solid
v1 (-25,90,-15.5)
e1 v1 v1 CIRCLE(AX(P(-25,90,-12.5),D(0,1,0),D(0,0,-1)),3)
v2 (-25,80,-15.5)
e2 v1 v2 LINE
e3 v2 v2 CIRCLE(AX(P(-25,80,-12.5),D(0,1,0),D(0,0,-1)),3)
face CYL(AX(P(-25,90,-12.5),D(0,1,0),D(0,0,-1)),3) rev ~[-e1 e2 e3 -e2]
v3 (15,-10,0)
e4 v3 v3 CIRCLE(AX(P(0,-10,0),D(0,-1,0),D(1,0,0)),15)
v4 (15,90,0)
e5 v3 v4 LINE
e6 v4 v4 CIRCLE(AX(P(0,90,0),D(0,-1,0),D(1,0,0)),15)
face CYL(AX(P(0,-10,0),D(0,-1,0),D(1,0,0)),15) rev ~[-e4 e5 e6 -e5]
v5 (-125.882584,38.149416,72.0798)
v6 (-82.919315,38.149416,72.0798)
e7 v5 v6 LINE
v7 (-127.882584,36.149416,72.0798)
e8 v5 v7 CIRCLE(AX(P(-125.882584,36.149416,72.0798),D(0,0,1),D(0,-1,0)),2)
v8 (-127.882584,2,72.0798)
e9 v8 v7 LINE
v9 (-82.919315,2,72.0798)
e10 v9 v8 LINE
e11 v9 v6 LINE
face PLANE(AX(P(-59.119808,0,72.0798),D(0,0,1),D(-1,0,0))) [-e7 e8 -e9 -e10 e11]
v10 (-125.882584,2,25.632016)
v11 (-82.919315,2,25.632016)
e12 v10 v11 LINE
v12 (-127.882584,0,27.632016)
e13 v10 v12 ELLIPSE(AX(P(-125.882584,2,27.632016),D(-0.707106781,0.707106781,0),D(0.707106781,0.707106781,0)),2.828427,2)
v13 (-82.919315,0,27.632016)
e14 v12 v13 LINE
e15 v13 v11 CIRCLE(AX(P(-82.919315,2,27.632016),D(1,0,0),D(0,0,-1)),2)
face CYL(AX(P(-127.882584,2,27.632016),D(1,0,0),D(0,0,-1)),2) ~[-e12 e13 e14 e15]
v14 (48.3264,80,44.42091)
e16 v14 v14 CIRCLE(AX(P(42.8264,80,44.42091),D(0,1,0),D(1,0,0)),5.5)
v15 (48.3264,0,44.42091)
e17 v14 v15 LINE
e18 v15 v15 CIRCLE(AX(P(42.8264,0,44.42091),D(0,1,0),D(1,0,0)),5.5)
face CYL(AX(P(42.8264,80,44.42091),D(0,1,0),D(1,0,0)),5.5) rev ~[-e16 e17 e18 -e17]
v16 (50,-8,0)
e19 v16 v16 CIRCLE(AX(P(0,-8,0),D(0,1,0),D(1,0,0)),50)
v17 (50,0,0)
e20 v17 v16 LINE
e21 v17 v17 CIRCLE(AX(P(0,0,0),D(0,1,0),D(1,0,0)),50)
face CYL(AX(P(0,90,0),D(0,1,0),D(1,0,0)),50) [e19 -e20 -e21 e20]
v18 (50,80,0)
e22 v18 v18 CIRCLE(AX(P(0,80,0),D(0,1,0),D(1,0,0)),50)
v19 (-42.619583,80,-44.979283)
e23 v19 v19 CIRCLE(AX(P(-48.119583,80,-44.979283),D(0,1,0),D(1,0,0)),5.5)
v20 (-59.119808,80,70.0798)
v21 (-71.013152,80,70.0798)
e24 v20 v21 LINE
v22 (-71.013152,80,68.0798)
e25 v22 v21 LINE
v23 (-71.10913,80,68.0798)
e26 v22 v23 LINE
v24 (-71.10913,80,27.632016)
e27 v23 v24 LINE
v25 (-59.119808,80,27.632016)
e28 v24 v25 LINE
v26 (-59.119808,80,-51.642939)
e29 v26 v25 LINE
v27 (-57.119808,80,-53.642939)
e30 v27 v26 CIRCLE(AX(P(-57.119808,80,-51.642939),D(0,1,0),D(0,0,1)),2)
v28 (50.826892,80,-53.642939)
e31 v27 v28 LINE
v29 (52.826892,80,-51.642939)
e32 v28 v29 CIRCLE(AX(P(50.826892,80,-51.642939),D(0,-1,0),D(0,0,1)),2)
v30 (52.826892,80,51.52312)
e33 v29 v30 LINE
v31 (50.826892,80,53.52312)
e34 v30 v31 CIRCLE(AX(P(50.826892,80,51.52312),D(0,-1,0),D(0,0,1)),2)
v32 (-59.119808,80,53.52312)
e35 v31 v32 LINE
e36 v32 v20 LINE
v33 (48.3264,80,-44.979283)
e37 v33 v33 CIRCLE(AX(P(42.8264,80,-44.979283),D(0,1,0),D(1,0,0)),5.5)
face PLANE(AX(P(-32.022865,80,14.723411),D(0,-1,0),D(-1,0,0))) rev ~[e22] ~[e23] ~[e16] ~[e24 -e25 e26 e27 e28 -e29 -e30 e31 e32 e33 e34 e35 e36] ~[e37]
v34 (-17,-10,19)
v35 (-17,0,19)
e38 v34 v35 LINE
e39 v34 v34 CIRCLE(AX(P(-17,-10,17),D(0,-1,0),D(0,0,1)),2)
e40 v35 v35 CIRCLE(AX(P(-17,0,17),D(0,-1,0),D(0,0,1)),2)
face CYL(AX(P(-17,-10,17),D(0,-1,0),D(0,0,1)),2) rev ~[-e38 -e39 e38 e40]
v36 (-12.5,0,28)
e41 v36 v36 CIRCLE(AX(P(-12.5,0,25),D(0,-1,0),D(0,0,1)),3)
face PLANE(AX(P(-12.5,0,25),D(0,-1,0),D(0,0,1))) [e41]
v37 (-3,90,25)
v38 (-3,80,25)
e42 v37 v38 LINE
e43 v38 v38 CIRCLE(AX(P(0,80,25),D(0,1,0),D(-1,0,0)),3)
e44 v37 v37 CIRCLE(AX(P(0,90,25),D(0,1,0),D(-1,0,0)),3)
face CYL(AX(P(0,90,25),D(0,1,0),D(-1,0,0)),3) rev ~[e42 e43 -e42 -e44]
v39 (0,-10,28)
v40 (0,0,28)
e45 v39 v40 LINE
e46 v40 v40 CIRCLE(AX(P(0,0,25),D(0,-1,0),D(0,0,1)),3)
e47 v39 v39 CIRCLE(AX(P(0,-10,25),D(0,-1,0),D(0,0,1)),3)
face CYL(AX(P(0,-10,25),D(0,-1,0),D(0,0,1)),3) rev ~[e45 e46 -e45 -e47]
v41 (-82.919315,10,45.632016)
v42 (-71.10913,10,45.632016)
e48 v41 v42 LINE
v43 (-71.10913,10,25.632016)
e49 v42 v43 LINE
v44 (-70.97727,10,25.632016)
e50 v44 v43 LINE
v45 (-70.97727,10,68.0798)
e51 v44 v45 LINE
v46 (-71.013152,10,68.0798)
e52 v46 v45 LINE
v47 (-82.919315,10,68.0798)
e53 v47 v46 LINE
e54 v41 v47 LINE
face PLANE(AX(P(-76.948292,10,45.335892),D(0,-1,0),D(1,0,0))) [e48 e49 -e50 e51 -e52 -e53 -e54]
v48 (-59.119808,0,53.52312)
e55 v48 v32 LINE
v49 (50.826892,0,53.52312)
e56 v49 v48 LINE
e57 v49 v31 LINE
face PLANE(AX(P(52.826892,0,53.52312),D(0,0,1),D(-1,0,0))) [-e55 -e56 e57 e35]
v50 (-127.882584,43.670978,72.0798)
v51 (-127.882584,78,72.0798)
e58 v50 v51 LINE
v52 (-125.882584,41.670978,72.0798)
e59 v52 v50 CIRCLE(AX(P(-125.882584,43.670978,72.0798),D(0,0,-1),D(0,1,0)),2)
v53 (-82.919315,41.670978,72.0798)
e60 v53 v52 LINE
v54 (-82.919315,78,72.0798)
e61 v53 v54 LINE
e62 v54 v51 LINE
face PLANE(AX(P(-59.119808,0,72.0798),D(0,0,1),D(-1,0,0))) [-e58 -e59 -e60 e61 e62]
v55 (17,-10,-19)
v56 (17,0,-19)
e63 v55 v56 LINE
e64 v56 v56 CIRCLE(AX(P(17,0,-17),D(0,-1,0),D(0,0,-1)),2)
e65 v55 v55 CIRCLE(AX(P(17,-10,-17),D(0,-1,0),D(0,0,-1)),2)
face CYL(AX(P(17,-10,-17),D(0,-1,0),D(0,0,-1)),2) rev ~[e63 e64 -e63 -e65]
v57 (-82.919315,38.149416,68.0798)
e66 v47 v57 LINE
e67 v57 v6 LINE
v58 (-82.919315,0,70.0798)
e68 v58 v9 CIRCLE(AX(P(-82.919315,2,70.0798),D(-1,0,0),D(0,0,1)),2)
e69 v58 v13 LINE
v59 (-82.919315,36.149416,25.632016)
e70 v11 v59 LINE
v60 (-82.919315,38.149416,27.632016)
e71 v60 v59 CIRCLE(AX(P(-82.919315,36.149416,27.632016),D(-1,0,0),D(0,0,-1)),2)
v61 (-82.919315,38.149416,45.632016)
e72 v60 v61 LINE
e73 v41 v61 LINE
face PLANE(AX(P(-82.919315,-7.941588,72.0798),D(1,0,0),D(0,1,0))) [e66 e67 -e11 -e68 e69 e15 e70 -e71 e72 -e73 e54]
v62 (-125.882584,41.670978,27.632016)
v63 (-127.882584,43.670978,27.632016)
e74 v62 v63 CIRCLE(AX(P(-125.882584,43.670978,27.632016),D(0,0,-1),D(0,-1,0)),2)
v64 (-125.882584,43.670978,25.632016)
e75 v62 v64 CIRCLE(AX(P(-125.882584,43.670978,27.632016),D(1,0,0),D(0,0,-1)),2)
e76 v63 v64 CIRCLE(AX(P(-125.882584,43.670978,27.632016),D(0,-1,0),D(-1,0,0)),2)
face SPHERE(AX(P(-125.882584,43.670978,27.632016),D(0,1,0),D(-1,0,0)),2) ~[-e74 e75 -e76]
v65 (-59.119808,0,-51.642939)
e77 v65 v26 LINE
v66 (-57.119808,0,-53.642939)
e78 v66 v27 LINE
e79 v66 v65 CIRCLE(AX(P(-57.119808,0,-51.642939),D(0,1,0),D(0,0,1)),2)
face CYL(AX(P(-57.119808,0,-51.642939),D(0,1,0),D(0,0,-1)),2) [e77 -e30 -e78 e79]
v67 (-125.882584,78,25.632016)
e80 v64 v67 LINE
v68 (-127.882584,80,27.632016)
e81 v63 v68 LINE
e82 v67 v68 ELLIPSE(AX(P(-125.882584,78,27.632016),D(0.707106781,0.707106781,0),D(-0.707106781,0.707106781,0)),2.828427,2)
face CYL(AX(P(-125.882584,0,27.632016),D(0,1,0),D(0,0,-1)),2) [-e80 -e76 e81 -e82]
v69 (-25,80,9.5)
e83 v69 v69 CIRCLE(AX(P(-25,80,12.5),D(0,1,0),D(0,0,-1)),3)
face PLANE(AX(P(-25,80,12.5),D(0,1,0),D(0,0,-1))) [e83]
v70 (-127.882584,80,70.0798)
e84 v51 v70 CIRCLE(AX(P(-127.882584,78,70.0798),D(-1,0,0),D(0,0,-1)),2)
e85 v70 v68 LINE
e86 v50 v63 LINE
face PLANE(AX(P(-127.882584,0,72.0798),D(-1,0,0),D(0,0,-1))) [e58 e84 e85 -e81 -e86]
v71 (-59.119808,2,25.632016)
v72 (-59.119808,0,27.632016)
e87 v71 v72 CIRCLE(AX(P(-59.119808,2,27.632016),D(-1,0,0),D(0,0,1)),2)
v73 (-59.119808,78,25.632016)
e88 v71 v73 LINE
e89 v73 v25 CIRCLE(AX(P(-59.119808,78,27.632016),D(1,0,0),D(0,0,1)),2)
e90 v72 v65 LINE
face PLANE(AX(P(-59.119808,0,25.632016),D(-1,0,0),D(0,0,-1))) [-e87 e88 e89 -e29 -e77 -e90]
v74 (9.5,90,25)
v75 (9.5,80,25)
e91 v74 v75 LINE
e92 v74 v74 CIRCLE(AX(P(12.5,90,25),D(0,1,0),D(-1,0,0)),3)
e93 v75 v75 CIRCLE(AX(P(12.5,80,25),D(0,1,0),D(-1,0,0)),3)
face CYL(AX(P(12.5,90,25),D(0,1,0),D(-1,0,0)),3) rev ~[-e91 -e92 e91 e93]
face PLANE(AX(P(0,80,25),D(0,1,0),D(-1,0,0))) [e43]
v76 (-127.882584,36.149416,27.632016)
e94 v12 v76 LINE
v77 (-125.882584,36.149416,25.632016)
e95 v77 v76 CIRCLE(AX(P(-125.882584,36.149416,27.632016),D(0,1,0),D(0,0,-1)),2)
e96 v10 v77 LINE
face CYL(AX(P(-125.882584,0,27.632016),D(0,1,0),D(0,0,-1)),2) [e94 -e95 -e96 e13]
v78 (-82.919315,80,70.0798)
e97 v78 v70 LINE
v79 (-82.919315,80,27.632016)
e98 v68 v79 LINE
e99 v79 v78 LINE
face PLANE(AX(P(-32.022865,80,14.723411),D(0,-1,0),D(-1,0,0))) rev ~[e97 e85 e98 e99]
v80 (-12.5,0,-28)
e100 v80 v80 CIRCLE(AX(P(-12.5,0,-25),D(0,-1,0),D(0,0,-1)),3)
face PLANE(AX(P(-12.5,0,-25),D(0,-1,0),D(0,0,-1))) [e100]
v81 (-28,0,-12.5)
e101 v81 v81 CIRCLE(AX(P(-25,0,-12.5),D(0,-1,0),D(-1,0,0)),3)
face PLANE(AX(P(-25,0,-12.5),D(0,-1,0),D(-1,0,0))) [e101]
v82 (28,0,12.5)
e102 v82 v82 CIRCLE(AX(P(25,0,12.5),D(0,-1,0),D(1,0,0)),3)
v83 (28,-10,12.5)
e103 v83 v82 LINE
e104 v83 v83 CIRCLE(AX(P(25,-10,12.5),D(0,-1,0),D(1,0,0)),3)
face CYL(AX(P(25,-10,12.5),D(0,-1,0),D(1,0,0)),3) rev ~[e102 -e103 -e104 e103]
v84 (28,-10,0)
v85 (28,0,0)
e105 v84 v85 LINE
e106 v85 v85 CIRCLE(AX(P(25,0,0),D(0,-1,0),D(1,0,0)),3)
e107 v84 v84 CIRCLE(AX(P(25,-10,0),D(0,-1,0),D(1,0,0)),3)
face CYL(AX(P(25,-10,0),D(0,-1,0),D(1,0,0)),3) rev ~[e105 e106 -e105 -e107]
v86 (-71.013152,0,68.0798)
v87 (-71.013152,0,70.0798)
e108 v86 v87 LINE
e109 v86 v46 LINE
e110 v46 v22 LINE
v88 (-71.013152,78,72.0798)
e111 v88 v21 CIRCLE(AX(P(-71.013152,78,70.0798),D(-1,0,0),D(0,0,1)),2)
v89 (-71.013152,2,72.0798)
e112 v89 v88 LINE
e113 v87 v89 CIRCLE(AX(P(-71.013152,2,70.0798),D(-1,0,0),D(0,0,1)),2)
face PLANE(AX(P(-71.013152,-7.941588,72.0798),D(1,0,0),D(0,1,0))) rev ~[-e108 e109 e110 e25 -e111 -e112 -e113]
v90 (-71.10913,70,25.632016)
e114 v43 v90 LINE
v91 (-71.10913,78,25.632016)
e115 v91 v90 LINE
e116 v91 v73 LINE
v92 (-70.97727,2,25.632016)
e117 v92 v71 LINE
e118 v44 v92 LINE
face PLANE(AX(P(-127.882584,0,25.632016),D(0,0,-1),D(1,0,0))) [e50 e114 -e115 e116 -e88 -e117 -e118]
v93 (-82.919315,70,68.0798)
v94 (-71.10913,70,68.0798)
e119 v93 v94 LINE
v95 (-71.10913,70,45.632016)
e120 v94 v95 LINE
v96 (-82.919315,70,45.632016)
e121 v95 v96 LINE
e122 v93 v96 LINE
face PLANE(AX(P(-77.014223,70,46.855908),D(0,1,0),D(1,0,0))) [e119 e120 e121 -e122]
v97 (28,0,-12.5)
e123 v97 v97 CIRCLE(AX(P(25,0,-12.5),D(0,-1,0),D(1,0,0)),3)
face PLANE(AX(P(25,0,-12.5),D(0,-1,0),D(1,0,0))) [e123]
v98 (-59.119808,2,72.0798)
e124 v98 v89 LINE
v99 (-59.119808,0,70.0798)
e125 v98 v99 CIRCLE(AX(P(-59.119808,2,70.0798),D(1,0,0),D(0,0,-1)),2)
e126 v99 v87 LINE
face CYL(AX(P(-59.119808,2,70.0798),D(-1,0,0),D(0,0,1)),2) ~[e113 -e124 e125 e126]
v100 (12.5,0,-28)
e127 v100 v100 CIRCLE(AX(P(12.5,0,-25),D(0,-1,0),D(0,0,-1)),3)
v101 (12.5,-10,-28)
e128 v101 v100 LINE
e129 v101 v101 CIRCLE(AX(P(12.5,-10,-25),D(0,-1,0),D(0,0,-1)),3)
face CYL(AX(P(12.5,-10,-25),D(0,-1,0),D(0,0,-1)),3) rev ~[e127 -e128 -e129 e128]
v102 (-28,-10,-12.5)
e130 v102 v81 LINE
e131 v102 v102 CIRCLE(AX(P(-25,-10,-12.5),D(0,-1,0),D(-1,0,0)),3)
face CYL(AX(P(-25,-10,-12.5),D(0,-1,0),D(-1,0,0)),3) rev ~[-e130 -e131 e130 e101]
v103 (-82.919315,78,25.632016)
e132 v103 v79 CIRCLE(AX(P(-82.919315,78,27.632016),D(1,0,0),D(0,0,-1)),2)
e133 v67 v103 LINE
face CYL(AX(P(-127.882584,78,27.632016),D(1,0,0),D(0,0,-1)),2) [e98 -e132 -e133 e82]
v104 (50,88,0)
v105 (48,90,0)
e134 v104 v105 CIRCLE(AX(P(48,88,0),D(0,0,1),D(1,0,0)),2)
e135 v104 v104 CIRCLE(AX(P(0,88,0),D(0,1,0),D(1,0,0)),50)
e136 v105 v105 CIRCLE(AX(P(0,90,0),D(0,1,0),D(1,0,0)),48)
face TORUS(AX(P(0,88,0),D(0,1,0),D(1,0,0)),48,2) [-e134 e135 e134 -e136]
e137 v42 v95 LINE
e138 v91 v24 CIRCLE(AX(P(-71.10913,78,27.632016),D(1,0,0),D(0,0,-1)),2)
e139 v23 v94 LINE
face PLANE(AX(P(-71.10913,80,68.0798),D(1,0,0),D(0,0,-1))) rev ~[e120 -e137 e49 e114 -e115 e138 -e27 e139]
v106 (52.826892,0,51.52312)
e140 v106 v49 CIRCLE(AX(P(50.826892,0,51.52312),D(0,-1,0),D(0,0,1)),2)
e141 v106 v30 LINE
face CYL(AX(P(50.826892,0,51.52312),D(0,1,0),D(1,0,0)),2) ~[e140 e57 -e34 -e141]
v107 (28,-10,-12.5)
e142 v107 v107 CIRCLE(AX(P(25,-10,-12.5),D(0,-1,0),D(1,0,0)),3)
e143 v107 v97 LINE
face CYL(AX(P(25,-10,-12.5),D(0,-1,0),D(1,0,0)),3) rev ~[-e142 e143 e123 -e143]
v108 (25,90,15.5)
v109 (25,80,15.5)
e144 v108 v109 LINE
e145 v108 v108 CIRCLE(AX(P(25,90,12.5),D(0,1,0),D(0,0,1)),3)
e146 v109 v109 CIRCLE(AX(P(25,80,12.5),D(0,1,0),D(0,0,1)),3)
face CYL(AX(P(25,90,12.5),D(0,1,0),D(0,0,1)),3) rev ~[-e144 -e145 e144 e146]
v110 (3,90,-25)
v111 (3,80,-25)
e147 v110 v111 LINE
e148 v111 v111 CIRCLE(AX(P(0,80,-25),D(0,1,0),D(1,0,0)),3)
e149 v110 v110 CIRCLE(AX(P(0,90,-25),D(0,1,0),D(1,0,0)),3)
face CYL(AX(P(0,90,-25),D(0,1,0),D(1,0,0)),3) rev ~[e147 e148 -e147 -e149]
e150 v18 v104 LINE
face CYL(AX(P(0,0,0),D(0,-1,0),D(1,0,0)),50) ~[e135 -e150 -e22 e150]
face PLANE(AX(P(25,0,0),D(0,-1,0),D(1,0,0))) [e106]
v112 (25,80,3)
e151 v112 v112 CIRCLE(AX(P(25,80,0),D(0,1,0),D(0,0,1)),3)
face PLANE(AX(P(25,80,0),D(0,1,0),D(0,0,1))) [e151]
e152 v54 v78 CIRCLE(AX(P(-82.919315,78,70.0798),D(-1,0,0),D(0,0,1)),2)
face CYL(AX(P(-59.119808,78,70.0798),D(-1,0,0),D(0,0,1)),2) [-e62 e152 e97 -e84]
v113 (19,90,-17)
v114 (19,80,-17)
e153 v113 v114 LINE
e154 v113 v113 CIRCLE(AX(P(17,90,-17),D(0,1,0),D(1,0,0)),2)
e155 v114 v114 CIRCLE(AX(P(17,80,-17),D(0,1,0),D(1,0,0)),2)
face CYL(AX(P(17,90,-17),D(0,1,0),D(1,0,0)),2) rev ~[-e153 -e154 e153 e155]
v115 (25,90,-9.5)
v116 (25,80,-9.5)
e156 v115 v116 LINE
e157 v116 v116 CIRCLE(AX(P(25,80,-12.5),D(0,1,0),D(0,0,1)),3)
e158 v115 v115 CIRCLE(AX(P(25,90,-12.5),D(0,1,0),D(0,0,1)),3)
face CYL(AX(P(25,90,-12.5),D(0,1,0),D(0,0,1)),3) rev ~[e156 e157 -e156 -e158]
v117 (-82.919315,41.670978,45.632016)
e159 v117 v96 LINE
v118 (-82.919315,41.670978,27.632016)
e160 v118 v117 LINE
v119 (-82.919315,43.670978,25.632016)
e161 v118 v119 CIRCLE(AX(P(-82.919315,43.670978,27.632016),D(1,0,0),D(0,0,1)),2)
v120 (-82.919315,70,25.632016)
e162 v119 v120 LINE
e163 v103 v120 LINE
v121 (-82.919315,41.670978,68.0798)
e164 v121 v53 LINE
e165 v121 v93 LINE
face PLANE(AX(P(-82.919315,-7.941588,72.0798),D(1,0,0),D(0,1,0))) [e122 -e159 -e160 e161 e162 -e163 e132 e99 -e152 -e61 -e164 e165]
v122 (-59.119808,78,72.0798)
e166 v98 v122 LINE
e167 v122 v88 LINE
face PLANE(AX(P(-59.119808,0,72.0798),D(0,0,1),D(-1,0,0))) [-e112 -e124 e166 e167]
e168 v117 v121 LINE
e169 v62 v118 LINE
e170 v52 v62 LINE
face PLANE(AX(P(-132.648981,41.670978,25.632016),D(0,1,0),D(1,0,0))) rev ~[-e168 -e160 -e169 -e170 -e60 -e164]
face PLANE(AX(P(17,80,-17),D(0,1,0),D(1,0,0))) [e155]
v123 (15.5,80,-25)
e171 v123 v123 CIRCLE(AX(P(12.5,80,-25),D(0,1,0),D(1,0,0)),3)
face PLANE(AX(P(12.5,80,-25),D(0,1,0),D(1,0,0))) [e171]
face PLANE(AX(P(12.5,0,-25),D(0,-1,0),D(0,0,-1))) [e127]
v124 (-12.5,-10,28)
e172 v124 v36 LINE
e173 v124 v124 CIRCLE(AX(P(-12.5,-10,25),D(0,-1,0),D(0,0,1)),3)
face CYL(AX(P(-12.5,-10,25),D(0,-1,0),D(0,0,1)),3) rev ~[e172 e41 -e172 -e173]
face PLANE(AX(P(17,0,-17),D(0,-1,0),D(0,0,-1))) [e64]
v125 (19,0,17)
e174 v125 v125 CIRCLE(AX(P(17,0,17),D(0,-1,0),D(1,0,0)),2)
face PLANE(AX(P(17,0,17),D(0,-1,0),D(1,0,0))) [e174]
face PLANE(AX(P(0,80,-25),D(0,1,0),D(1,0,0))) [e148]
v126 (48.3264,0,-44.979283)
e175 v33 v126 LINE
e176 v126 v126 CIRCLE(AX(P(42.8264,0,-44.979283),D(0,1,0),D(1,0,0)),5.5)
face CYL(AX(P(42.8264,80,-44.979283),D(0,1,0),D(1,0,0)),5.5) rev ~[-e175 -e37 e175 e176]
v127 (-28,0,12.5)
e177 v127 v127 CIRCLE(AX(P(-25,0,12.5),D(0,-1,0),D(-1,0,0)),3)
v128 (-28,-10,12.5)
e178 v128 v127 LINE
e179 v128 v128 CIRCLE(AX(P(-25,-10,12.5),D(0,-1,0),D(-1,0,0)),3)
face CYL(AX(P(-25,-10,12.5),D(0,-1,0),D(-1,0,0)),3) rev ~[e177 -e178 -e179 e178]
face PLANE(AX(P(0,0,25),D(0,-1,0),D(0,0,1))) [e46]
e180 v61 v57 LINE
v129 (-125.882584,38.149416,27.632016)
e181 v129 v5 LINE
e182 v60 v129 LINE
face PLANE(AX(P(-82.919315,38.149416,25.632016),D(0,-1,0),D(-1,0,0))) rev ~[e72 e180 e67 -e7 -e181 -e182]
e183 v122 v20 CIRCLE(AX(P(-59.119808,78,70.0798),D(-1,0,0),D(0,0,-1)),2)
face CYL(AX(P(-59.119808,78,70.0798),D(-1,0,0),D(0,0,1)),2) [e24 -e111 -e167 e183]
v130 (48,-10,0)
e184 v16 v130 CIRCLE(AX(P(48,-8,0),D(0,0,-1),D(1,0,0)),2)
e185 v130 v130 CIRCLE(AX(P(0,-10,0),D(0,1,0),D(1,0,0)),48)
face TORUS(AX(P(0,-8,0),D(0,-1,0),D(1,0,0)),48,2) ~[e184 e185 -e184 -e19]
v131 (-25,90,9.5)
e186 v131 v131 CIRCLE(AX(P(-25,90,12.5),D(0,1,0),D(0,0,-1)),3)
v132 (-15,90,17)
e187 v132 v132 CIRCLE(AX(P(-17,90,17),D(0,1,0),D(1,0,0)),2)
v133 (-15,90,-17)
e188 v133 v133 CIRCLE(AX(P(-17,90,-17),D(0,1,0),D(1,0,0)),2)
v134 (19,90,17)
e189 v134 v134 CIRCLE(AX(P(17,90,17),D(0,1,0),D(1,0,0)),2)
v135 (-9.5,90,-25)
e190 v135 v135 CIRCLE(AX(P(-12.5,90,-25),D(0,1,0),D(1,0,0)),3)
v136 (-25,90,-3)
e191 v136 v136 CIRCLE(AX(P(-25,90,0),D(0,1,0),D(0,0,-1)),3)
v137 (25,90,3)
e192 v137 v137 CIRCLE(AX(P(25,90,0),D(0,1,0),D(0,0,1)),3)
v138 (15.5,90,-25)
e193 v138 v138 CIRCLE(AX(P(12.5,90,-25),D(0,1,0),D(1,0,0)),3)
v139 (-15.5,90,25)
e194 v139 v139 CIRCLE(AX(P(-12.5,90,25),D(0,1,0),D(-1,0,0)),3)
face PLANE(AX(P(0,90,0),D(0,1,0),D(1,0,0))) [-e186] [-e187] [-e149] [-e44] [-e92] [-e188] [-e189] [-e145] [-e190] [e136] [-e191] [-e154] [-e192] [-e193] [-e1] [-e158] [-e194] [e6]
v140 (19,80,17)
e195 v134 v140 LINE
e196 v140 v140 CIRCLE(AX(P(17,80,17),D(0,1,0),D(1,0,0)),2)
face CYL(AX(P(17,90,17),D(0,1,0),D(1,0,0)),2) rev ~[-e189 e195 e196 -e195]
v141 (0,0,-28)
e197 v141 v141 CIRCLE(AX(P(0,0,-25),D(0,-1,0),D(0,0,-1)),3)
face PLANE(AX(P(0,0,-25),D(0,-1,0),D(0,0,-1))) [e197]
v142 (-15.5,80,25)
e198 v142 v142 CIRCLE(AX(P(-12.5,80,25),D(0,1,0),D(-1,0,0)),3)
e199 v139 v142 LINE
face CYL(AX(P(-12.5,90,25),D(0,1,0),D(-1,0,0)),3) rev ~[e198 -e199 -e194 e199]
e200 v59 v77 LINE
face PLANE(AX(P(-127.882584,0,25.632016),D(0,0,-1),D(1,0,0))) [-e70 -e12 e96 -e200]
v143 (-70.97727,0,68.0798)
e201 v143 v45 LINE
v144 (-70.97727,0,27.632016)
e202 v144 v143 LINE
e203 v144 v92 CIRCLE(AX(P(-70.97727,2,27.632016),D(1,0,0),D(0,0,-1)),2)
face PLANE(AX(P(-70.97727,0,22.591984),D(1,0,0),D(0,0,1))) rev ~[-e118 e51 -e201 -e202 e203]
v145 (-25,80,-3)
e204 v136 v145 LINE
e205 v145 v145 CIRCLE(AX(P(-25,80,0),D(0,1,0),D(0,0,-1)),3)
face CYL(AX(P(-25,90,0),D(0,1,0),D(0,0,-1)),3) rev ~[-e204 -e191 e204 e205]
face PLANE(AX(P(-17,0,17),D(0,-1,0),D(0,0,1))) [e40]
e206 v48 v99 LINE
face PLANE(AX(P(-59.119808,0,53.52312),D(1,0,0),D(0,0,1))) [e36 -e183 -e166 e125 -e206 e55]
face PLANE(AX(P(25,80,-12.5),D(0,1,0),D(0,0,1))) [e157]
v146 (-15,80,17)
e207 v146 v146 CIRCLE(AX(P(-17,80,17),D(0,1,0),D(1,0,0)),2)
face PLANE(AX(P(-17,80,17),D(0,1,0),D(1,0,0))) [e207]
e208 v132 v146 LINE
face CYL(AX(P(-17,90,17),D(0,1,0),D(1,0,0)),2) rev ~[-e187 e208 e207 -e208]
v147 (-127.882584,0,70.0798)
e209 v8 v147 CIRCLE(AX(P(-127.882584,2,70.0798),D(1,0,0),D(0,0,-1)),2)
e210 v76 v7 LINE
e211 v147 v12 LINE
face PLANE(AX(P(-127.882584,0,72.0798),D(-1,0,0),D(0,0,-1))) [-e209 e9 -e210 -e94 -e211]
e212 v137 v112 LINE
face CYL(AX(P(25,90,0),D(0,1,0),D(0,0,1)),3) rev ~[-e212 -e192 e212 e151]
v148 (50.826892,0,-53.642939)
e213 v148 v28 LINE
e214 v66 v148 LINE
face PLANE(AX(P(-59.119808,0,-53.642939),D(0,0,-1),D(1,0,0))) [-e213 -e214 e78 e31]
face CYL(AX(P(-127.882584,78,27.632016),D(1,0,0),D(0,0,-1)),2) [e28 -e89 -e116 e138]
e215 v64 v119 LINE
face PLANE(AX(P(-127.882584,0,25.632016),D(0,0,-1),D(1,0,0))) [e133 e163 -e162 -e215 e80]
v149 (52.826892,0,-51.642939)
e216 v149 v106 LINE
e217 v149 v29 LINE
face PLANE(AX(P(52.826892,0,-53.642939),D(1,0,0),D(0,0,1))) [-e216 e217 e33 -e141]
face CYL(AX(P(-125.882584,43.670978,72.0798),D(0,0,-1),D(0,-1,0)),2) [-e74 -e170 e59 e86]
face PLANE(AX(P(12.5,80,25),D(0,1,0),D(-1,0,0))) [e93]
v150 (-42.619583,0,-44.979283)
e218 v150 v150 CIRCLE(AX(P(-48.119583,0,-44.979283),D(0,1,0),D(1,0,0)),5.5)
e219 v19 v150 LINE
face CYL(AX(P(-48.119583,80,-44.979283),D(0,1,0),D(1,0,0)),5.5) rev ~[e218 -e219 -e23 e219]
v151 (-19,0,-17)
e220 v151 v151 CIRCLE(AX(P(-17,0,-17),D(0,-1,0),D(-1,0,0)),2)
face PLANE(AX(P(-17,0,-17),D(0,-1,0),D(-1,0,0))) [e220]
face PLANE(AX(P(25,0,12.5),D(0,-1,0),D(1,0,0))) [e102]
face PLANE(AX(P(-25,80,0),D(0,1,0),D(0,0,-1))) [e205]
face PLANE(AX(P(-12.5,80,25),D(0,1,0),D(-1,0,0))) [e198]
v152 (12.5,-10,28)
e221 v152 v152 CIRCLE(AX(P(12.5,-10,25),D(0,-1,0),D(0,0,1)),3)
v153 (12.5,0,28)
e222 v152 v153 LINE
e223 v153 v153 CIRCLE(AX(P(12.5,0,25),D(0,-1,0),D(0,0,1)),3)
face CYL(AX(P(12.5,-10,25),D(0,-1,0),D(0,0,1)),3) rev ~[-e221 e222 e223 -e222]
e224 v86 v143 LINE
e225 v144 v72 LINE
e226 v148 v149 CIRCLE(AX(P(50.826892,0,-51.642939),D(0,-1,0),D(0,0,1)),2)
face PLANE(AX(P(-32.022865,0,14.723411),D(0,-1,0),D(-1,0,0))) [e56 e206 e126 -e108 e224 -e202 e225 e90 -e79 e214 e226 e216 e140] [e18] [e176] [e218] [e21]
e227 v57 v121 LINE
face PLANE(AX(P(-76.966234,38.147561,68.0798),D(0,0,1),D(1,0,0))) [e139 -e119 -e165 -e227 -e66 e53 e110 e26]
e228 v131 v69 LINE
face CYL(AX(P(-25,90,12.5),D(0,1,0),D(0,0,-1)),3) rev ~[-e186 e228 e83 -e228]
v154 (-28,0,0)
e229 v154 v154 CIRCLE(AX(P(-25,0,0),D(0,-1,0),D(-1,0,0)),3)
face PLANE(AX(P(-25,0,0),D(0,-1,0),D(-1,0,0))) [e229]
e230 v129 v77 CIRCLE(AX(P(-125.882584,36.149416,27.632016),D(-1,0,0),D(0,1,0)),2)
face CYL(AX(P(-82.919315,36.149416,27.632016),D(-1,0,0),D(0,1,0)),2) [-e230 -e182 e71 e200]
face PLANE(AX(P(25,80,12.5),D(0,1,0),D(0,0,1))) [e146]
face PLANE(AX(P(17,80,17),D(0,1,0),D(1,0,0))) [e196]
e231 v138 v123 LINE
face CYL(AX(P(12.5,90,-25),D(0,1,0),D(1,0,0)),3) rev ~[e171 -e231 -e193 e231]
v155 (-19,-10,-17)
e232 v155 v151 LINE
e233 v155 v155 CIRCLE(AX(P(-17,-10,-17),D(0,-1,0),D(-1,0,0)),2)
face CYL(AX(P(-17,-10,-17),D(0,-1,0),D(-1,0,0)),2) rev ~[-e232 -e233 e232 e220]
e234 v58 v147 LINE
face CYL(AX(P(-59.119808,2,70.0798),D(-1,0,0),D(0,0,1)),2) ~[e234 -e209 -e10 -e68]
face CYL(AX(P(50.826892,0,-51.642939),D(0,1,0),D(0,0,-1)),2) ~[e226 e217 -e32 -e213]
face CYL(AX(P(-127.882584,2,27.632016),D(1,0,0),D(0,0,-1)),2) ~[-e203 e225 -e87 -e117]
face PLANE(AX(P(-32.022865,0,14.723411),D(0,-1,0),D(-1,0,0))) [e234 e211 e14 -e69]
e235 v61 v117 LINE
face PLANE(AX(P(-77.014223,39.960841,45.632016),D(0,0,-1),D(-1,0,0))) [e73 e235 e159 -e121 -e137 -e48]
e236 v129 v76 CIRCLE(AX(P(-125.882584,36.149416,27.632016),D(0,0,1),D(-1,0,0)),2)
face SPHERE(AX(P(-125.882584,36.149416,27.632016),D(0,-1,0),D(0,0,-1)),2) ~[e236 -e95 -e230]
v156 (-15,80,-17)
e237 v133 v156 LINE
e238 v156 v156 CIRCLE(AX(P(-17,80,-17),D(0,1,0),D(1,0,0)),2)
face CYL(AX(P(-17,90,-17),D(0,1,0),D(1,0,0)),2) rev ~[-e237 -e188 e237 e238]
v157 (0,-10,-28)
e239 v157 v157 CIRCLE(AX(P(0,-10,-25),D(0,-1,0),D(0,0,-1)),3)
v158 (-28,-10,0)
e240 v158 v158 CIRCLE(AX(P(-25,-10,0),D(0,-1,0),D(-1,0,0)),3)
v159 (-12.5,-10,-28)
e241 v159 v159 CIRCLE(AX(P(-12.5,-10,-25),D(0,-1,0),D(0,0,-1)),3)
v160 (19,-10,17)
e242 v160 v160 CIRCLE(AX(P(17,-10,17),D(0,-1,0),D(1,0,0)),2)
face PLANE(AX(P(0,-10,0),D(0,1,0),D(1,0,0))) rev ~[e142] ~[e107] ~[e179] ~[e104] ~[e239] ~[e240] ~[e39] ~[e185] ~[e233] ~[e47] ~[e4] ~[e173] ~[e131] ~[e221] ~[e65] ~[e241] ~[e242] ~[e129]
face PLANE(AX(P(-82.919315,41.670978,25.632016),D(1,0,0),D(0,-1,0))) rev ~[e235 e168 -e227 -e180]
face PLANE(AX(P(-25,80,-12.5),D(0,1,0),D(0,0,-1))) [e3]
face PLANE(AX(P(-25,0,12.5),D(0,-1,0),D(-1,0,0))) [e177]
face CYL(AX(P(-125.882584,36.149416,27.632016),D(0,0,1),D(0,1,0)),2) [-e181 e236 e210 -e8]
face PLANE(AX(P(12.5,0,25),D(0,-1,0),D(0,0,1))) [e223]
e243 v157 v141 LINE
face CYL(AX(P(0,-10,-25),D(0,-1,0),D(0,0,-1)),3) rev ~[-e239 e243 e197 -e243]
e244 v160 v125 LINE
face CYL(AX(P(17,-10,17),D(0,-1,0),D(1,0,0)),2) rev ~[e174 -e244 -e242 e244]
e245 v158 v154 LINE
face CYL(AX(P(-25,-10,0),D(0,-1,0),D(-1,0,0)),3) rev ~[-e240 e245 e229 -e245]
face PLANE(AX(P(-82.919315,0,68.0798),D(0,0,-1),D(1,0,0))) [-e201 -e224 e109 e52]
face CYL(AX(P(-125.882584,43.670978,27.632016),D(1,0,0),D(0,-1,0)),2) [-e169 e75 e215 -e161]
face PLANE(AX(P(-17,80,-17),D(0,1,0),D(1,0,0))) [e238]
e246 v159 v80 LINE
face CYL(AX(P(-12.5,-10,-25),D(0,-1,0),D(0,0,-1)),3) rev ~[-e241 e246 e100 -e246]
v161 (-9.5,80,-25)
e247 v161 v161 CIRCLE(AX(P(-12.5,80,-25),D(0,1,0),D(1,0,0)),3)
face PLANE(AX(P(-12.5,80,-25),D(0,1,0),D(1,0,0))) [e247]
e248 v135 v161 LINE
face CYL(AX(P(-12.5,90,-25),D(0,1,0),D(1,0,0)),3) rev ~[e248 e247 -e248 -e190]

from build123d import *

# Parameters (mm, degrees)
SKETCH_1_R               = 50
EXTRUDE_1_DEPTH          = 80
FILLET_1_R               = 2
SKETCH_2_R               = 5.5
CUT_EXTRUDE_1_DEPTH      = 80
SKETCH_3_W               = 11.906162192
SKETCH_3_H               = 92.178298694
CUT_EXTRUDE_2_DEPTH      = 4
SKETCH_4_W               = 11.810184272
SKETCH_4_H               = 42.447784179
CUT_EXTRUDE_3_DEPTH      = 10
SKETCH_5_W               = 11.942044514
SKETCH_5_H               = 45.487816108
CUT_EXTRUDE_4_DEPTH      = 10
SKETCH_6_W               = 11.810184272
SKETCH_6_H               = 60.078318052
CUT_EXTRUDE_5_DEPTH      = 20
CUT_EXTRUDE_7_DEPTH      = 50
FILLET_2_R               = 2
SKETCH_8_R               = 50
EXTRUDE_2_DEPTH          = 90
SKETCH_9_R               = 50
EXTRUDE_3_DEPTH          = 100
FILLET_3_R               = 2
SKETCH_10_R              = 15
CUT_EXTRUDE_8_DEPTH      = 100
SKETCH_11_R              = 3
CUT_EXTRUDE_9_DEPTH      = 10
PATTERN_CIRCULAR_1_COUNT = 4
SKETCH_12_R              = 3
CUT_EXTRUDE_10_DEPTH     = 10
PATTERN_CIRCULAR_2_COUNT = 4
SKETCH_13_R              = 2
CUT_EXTRUDE_11_DEPTH     = 10
PATTERN_CIRCULAR_3_COUNT = 4
SKETCH_14_R              = 2
CUT_EXTRUDE_12_DEPTH     = 10


with BuildPart() as part:
    # 草图1 → 凸台-拉伸1 (new body)
    with BuildSketch(Plane(origin=(0, 0, 0), x_dir=(1, 0, 0), z_dir=(0, 1, 0))):
        Polygon((-59.119808165, 53.642938728), (52.826892357, 53.642938728), (52.826892357, -53.523119778), (-59.119808165, -53.523119778), (-59.119808165, -72.079800299), (-127.882584058, -72.079800299), (-127.882584058, -25.63201612), (-59.119808165, -25.63201612), align=None)
        Circle(SKETCH_1_R, mode=Mode.SUBTRACT)
    extrude(amount=EXTRUDE_1_DEPTH)

    # 圆角1
    fillet_1_edges = [part.edges().sort_by_distance(p)[0] for p in [
        (-93.501196111, 0, 25.63201612),
        (-93.501196111, 80, 72.079800299),
        (-59.119808165, 40, -53.642938728),
        (52.826892357, 40, -53.642938728),
        (52.826892357, 40, 53.523119778),
        (-127.882584058, 40, 25.63201612),
        (-93.501196111, 80, 25.63201612),
        (-93.501196111, 0, 72.079800299),
    ]]
    fillet(fillet_1_edges, radius=FILLET_1_R)

    # 草图2 → 切除-拉伸1 (cut)
    with BuildSketch(Plane(origin=(0, 80, 0), x_dir=(1, 0, 0), z_dir=(0, 1, 0))):
        with Locations((-48.119582726, 44.979282561)):
            Circle(SKETCH_2_R)
        with Locations((42.826400195, 44.979282561)):
            Circle(SKETCH_2_R)
        with Locations((42.826400195, -44.420910434)):
            Circle(SKETCH_2_R)
    extrude(amount=-CUT_EXTRUDE_1_DEPTH, mode=Mode.SUBTRACT)

    # 草图3 → 切除-拉伸2 (cut)
    with BuildSketch(Plane.XY.offset(72.079800299)):
        with Locations((-76.966233581, 38.147560985)):
            Rectangle(SKETCH_3_W, SKETCH_3_H)
    extrude(amount=-CUT_EXTRUDE_2_DEPTH, mode=Mode.SUBTRACT)

    # 草图4 → 切除-拉伸3 (cut)
    with BuildSketch(Plane(origin=(0, 80, 0), x_dir=(1, 0, 0), z_dir=(0, 1, 0))):
        with Locations((-77.014222541, -46.85590821)):
            Rectangle(SKETCH_4_W, SKETCH_4_H)
    extrude(amount=-CUT_EXTRUDE_3_DEPTH, mode=Mode.SUBTRACT)

    # 草图5 → 切除-拉伸4 (cut)
    with BuildSketch(Plane.XZ):
        with Locations((-76.94829242, 45.335892245)):
            Rectangle(SKETCH_5_W, SKETCH_5_H)
    extrude(amount=-CUT_EXTRUDE_4_DEPTH, mode=Mode.SUBTRACT)

    # 草图6 → 切除-拉伸5 (cut)
    with BuildSketch(Plane(origin=(0, 0, 25.63201612), x_dir=(-1, 0, 0), z_dir=(0, 0, -1))):
        with Locations((77.014222541, 39.960840974)):
            Rectangle(SKETCH_6_W, SKETCH_6_H)
    extrude(amount=-CUT_EXTRUDE_5_DEPTH, mode=Mode.SUBTRACT)

    # 草图7 → 切除-拉伸7 (cut)
    with BuildSketch(Plane(origin=(0, 0, 25.63201612), x_dir=(-1, 0, 0), z_dir=(0, 0, -1))):
        Polygon((125.882584058, 41.670977544), (82.919314677, 41.670977544), (82.919314677, 38.149415643), (125.882584058, 38.149415643), (132.648981097, 38.149415643), (132.648981097, 41.670977544), align=None)
    extrude(amount=-CUT_EXTRUDE_7_DEPTH, mode=Mode.SUBTRACT)

    # 圆角2
    fillet_2_edges = [part.edges().sort_by_distance(p)[0] for p in [
        (-127.882584058, 38.149415643, 49.855908209),
        (-127.882584058, 41.670977544, 49.855908209),
        (-104.400949368, 38.149415643, 25.63201612),
        (-104.400949368, 41.670977544, 25.63201612),
        (-127.29679762, 38.149415643, 26.217802557),
        (-127.29679762, 41.670977544, 26.217802557),
    ]]
    fillet(fillet_2_edges, radius=FILLET_2_R)

    # 草图8 → 凸台-拉伸2 (add)
    with BuildSketch(Plane(origin=(0, 0, 0), x_dir=(1, 0, 0), z_dir=(0, 1, 0))):
        Circle(SKETCH_8_R)
    extrude(amount=EXTRUDE_2_DEPTH)

    # 草图9 → 凸台-拉伸3 (add)
    with BuildSketch(Plane(origin=(0, 90, 0), x_dir=(1, 0, 0), z_dir=(0, 1, 0))):
        Circle(SKETCH_9_R)
    extrude(amount=-EXTRUDE_3_DEPTH)

    # 圆角3
    fillet_3_edges = [part.edges().sort_by_distance(p)[0] for p in [
        (-50, 90, 0),
        (-50, -10, 0),
    ]]
    fillet(fillet_3_edges, radius=FILLET_3_R)

    # 草图10 → 切除-拉伸8 (cut)
    with BuildSketch(Plane.XZ.offset(10)):
        Circle(SKETCH_10_R)
    extrude(amount=-CUT_EXTRUDE_8_DEPTH, mode=Mode.SUBTRACT)

    # 草图11 → 切除-拉伸9 (cut)
    with BuildSketch(Plane.XZ.offset(10)):
        with Locations((25, 0)):
            Circle(SKETCH_11_R)
        with Locations((25, 12.5)):
            Circle(SKETCH_11_R)
        with Locations((25, -12.5)):
            Circle(SKETCH_11_R)
    cut_extrude_9 = extrude(amount=-CUT_EXTRUDE_9_DEPTH, mode=Mode.SUBTRACT)

    # 阵列(圆周)1: 切除-拉伸9 ×4 about axis
    pattern_circular_1_axis = Axis((0, 0, 0), (0, 1, 0))
    for i in range(1, PATTERN_CIRCULAR_1_COUNT):
        add(cut_extrude_9.rotate(pattern_circular_1_axis, i * 360 / PATTERN_CIRCULAR_1_COUNT), mode=Mode.SUBTRACT)

    # 草图12 → 切除-拉伸10 (cut)
    with BuildSketch(Plane(origin=(0, 90, 0), x_dir=(1, 0, 0), z_dir=(0, 1, 0))):
        with Locations((-12.5, 25)):
            Circle(SKETCH_12_R)
        with Locations((0, 25)):
            Circle(SKETCH_12_R)
        with Locations((12.5, 25)):
            Circle(SKETCH_12_R)
    cut_extrude_10 = extrude(amount=-CUT_EXTRUDE_10_DEPTH, mode=Mode.SUBTRACT)

    # 阵列(圆周)2: 切除-拉伸10 ×4 about axis
    pattern_circular_2_axis = Axis((0, 0, 0), (0, 1, 0))
    for i in range(1, PATTERN_CIRCULAR_2_COUNT):
        add(cut_extrude_10.rotate(pattern_circular_2_axis, i * 360 / PATTERN_CIRCULAR_2_COUNT), mode=Mode.SUBTRACT)

    # 草图13 → 切除-拉伸11 (cut)
    with BuildSketch(Plane.XZ.offset(10)):
        with Locations((17, 17)):
            Circle(SKETCH_13_R)
    cut_extrude_11 = extrude(amount=-CUT_EXTRUDE_11_DEPTH, mode=Mode.SUBTRACT)

    # 阵列(圆周)3: 切除-拉伸11 ×4 about axis
    pattern_circular_3_axis = Axis((0, 0, 0), (0, 1, 0))
    for i in range(1, PATTERN_CIRCULAR_3_COUNT):
        add(cut_extrude_11.rotate(pattern_circular_3_axis, i * 360 / PATTERN_CIRCULAR_3_COUNT), mode=Mode.SUBTRACT)

    # 草图14 → 切除-拉伸12 (cut)
    with BuildSketch(Plane(origin=(0, 90, 0), x_dir=(1, 0, 0), z_dir=(0, 1, 0))):
        with Locations((-17, -17)):
            Circle(SKETCH_14_R)
        with Locations((-17, 17)):
            Circle(SKETCH_14_R)
        with Locations((17, 17)):
            Circle(SKETCH_14_R)
        with Locations((17, -17)):
            Circle(SKETCH_14_R)
    extrude(amount=-CUT_EXTRUDE_12_DEPTH, mode=Mode.SUBTRACT)


solid = part.part
